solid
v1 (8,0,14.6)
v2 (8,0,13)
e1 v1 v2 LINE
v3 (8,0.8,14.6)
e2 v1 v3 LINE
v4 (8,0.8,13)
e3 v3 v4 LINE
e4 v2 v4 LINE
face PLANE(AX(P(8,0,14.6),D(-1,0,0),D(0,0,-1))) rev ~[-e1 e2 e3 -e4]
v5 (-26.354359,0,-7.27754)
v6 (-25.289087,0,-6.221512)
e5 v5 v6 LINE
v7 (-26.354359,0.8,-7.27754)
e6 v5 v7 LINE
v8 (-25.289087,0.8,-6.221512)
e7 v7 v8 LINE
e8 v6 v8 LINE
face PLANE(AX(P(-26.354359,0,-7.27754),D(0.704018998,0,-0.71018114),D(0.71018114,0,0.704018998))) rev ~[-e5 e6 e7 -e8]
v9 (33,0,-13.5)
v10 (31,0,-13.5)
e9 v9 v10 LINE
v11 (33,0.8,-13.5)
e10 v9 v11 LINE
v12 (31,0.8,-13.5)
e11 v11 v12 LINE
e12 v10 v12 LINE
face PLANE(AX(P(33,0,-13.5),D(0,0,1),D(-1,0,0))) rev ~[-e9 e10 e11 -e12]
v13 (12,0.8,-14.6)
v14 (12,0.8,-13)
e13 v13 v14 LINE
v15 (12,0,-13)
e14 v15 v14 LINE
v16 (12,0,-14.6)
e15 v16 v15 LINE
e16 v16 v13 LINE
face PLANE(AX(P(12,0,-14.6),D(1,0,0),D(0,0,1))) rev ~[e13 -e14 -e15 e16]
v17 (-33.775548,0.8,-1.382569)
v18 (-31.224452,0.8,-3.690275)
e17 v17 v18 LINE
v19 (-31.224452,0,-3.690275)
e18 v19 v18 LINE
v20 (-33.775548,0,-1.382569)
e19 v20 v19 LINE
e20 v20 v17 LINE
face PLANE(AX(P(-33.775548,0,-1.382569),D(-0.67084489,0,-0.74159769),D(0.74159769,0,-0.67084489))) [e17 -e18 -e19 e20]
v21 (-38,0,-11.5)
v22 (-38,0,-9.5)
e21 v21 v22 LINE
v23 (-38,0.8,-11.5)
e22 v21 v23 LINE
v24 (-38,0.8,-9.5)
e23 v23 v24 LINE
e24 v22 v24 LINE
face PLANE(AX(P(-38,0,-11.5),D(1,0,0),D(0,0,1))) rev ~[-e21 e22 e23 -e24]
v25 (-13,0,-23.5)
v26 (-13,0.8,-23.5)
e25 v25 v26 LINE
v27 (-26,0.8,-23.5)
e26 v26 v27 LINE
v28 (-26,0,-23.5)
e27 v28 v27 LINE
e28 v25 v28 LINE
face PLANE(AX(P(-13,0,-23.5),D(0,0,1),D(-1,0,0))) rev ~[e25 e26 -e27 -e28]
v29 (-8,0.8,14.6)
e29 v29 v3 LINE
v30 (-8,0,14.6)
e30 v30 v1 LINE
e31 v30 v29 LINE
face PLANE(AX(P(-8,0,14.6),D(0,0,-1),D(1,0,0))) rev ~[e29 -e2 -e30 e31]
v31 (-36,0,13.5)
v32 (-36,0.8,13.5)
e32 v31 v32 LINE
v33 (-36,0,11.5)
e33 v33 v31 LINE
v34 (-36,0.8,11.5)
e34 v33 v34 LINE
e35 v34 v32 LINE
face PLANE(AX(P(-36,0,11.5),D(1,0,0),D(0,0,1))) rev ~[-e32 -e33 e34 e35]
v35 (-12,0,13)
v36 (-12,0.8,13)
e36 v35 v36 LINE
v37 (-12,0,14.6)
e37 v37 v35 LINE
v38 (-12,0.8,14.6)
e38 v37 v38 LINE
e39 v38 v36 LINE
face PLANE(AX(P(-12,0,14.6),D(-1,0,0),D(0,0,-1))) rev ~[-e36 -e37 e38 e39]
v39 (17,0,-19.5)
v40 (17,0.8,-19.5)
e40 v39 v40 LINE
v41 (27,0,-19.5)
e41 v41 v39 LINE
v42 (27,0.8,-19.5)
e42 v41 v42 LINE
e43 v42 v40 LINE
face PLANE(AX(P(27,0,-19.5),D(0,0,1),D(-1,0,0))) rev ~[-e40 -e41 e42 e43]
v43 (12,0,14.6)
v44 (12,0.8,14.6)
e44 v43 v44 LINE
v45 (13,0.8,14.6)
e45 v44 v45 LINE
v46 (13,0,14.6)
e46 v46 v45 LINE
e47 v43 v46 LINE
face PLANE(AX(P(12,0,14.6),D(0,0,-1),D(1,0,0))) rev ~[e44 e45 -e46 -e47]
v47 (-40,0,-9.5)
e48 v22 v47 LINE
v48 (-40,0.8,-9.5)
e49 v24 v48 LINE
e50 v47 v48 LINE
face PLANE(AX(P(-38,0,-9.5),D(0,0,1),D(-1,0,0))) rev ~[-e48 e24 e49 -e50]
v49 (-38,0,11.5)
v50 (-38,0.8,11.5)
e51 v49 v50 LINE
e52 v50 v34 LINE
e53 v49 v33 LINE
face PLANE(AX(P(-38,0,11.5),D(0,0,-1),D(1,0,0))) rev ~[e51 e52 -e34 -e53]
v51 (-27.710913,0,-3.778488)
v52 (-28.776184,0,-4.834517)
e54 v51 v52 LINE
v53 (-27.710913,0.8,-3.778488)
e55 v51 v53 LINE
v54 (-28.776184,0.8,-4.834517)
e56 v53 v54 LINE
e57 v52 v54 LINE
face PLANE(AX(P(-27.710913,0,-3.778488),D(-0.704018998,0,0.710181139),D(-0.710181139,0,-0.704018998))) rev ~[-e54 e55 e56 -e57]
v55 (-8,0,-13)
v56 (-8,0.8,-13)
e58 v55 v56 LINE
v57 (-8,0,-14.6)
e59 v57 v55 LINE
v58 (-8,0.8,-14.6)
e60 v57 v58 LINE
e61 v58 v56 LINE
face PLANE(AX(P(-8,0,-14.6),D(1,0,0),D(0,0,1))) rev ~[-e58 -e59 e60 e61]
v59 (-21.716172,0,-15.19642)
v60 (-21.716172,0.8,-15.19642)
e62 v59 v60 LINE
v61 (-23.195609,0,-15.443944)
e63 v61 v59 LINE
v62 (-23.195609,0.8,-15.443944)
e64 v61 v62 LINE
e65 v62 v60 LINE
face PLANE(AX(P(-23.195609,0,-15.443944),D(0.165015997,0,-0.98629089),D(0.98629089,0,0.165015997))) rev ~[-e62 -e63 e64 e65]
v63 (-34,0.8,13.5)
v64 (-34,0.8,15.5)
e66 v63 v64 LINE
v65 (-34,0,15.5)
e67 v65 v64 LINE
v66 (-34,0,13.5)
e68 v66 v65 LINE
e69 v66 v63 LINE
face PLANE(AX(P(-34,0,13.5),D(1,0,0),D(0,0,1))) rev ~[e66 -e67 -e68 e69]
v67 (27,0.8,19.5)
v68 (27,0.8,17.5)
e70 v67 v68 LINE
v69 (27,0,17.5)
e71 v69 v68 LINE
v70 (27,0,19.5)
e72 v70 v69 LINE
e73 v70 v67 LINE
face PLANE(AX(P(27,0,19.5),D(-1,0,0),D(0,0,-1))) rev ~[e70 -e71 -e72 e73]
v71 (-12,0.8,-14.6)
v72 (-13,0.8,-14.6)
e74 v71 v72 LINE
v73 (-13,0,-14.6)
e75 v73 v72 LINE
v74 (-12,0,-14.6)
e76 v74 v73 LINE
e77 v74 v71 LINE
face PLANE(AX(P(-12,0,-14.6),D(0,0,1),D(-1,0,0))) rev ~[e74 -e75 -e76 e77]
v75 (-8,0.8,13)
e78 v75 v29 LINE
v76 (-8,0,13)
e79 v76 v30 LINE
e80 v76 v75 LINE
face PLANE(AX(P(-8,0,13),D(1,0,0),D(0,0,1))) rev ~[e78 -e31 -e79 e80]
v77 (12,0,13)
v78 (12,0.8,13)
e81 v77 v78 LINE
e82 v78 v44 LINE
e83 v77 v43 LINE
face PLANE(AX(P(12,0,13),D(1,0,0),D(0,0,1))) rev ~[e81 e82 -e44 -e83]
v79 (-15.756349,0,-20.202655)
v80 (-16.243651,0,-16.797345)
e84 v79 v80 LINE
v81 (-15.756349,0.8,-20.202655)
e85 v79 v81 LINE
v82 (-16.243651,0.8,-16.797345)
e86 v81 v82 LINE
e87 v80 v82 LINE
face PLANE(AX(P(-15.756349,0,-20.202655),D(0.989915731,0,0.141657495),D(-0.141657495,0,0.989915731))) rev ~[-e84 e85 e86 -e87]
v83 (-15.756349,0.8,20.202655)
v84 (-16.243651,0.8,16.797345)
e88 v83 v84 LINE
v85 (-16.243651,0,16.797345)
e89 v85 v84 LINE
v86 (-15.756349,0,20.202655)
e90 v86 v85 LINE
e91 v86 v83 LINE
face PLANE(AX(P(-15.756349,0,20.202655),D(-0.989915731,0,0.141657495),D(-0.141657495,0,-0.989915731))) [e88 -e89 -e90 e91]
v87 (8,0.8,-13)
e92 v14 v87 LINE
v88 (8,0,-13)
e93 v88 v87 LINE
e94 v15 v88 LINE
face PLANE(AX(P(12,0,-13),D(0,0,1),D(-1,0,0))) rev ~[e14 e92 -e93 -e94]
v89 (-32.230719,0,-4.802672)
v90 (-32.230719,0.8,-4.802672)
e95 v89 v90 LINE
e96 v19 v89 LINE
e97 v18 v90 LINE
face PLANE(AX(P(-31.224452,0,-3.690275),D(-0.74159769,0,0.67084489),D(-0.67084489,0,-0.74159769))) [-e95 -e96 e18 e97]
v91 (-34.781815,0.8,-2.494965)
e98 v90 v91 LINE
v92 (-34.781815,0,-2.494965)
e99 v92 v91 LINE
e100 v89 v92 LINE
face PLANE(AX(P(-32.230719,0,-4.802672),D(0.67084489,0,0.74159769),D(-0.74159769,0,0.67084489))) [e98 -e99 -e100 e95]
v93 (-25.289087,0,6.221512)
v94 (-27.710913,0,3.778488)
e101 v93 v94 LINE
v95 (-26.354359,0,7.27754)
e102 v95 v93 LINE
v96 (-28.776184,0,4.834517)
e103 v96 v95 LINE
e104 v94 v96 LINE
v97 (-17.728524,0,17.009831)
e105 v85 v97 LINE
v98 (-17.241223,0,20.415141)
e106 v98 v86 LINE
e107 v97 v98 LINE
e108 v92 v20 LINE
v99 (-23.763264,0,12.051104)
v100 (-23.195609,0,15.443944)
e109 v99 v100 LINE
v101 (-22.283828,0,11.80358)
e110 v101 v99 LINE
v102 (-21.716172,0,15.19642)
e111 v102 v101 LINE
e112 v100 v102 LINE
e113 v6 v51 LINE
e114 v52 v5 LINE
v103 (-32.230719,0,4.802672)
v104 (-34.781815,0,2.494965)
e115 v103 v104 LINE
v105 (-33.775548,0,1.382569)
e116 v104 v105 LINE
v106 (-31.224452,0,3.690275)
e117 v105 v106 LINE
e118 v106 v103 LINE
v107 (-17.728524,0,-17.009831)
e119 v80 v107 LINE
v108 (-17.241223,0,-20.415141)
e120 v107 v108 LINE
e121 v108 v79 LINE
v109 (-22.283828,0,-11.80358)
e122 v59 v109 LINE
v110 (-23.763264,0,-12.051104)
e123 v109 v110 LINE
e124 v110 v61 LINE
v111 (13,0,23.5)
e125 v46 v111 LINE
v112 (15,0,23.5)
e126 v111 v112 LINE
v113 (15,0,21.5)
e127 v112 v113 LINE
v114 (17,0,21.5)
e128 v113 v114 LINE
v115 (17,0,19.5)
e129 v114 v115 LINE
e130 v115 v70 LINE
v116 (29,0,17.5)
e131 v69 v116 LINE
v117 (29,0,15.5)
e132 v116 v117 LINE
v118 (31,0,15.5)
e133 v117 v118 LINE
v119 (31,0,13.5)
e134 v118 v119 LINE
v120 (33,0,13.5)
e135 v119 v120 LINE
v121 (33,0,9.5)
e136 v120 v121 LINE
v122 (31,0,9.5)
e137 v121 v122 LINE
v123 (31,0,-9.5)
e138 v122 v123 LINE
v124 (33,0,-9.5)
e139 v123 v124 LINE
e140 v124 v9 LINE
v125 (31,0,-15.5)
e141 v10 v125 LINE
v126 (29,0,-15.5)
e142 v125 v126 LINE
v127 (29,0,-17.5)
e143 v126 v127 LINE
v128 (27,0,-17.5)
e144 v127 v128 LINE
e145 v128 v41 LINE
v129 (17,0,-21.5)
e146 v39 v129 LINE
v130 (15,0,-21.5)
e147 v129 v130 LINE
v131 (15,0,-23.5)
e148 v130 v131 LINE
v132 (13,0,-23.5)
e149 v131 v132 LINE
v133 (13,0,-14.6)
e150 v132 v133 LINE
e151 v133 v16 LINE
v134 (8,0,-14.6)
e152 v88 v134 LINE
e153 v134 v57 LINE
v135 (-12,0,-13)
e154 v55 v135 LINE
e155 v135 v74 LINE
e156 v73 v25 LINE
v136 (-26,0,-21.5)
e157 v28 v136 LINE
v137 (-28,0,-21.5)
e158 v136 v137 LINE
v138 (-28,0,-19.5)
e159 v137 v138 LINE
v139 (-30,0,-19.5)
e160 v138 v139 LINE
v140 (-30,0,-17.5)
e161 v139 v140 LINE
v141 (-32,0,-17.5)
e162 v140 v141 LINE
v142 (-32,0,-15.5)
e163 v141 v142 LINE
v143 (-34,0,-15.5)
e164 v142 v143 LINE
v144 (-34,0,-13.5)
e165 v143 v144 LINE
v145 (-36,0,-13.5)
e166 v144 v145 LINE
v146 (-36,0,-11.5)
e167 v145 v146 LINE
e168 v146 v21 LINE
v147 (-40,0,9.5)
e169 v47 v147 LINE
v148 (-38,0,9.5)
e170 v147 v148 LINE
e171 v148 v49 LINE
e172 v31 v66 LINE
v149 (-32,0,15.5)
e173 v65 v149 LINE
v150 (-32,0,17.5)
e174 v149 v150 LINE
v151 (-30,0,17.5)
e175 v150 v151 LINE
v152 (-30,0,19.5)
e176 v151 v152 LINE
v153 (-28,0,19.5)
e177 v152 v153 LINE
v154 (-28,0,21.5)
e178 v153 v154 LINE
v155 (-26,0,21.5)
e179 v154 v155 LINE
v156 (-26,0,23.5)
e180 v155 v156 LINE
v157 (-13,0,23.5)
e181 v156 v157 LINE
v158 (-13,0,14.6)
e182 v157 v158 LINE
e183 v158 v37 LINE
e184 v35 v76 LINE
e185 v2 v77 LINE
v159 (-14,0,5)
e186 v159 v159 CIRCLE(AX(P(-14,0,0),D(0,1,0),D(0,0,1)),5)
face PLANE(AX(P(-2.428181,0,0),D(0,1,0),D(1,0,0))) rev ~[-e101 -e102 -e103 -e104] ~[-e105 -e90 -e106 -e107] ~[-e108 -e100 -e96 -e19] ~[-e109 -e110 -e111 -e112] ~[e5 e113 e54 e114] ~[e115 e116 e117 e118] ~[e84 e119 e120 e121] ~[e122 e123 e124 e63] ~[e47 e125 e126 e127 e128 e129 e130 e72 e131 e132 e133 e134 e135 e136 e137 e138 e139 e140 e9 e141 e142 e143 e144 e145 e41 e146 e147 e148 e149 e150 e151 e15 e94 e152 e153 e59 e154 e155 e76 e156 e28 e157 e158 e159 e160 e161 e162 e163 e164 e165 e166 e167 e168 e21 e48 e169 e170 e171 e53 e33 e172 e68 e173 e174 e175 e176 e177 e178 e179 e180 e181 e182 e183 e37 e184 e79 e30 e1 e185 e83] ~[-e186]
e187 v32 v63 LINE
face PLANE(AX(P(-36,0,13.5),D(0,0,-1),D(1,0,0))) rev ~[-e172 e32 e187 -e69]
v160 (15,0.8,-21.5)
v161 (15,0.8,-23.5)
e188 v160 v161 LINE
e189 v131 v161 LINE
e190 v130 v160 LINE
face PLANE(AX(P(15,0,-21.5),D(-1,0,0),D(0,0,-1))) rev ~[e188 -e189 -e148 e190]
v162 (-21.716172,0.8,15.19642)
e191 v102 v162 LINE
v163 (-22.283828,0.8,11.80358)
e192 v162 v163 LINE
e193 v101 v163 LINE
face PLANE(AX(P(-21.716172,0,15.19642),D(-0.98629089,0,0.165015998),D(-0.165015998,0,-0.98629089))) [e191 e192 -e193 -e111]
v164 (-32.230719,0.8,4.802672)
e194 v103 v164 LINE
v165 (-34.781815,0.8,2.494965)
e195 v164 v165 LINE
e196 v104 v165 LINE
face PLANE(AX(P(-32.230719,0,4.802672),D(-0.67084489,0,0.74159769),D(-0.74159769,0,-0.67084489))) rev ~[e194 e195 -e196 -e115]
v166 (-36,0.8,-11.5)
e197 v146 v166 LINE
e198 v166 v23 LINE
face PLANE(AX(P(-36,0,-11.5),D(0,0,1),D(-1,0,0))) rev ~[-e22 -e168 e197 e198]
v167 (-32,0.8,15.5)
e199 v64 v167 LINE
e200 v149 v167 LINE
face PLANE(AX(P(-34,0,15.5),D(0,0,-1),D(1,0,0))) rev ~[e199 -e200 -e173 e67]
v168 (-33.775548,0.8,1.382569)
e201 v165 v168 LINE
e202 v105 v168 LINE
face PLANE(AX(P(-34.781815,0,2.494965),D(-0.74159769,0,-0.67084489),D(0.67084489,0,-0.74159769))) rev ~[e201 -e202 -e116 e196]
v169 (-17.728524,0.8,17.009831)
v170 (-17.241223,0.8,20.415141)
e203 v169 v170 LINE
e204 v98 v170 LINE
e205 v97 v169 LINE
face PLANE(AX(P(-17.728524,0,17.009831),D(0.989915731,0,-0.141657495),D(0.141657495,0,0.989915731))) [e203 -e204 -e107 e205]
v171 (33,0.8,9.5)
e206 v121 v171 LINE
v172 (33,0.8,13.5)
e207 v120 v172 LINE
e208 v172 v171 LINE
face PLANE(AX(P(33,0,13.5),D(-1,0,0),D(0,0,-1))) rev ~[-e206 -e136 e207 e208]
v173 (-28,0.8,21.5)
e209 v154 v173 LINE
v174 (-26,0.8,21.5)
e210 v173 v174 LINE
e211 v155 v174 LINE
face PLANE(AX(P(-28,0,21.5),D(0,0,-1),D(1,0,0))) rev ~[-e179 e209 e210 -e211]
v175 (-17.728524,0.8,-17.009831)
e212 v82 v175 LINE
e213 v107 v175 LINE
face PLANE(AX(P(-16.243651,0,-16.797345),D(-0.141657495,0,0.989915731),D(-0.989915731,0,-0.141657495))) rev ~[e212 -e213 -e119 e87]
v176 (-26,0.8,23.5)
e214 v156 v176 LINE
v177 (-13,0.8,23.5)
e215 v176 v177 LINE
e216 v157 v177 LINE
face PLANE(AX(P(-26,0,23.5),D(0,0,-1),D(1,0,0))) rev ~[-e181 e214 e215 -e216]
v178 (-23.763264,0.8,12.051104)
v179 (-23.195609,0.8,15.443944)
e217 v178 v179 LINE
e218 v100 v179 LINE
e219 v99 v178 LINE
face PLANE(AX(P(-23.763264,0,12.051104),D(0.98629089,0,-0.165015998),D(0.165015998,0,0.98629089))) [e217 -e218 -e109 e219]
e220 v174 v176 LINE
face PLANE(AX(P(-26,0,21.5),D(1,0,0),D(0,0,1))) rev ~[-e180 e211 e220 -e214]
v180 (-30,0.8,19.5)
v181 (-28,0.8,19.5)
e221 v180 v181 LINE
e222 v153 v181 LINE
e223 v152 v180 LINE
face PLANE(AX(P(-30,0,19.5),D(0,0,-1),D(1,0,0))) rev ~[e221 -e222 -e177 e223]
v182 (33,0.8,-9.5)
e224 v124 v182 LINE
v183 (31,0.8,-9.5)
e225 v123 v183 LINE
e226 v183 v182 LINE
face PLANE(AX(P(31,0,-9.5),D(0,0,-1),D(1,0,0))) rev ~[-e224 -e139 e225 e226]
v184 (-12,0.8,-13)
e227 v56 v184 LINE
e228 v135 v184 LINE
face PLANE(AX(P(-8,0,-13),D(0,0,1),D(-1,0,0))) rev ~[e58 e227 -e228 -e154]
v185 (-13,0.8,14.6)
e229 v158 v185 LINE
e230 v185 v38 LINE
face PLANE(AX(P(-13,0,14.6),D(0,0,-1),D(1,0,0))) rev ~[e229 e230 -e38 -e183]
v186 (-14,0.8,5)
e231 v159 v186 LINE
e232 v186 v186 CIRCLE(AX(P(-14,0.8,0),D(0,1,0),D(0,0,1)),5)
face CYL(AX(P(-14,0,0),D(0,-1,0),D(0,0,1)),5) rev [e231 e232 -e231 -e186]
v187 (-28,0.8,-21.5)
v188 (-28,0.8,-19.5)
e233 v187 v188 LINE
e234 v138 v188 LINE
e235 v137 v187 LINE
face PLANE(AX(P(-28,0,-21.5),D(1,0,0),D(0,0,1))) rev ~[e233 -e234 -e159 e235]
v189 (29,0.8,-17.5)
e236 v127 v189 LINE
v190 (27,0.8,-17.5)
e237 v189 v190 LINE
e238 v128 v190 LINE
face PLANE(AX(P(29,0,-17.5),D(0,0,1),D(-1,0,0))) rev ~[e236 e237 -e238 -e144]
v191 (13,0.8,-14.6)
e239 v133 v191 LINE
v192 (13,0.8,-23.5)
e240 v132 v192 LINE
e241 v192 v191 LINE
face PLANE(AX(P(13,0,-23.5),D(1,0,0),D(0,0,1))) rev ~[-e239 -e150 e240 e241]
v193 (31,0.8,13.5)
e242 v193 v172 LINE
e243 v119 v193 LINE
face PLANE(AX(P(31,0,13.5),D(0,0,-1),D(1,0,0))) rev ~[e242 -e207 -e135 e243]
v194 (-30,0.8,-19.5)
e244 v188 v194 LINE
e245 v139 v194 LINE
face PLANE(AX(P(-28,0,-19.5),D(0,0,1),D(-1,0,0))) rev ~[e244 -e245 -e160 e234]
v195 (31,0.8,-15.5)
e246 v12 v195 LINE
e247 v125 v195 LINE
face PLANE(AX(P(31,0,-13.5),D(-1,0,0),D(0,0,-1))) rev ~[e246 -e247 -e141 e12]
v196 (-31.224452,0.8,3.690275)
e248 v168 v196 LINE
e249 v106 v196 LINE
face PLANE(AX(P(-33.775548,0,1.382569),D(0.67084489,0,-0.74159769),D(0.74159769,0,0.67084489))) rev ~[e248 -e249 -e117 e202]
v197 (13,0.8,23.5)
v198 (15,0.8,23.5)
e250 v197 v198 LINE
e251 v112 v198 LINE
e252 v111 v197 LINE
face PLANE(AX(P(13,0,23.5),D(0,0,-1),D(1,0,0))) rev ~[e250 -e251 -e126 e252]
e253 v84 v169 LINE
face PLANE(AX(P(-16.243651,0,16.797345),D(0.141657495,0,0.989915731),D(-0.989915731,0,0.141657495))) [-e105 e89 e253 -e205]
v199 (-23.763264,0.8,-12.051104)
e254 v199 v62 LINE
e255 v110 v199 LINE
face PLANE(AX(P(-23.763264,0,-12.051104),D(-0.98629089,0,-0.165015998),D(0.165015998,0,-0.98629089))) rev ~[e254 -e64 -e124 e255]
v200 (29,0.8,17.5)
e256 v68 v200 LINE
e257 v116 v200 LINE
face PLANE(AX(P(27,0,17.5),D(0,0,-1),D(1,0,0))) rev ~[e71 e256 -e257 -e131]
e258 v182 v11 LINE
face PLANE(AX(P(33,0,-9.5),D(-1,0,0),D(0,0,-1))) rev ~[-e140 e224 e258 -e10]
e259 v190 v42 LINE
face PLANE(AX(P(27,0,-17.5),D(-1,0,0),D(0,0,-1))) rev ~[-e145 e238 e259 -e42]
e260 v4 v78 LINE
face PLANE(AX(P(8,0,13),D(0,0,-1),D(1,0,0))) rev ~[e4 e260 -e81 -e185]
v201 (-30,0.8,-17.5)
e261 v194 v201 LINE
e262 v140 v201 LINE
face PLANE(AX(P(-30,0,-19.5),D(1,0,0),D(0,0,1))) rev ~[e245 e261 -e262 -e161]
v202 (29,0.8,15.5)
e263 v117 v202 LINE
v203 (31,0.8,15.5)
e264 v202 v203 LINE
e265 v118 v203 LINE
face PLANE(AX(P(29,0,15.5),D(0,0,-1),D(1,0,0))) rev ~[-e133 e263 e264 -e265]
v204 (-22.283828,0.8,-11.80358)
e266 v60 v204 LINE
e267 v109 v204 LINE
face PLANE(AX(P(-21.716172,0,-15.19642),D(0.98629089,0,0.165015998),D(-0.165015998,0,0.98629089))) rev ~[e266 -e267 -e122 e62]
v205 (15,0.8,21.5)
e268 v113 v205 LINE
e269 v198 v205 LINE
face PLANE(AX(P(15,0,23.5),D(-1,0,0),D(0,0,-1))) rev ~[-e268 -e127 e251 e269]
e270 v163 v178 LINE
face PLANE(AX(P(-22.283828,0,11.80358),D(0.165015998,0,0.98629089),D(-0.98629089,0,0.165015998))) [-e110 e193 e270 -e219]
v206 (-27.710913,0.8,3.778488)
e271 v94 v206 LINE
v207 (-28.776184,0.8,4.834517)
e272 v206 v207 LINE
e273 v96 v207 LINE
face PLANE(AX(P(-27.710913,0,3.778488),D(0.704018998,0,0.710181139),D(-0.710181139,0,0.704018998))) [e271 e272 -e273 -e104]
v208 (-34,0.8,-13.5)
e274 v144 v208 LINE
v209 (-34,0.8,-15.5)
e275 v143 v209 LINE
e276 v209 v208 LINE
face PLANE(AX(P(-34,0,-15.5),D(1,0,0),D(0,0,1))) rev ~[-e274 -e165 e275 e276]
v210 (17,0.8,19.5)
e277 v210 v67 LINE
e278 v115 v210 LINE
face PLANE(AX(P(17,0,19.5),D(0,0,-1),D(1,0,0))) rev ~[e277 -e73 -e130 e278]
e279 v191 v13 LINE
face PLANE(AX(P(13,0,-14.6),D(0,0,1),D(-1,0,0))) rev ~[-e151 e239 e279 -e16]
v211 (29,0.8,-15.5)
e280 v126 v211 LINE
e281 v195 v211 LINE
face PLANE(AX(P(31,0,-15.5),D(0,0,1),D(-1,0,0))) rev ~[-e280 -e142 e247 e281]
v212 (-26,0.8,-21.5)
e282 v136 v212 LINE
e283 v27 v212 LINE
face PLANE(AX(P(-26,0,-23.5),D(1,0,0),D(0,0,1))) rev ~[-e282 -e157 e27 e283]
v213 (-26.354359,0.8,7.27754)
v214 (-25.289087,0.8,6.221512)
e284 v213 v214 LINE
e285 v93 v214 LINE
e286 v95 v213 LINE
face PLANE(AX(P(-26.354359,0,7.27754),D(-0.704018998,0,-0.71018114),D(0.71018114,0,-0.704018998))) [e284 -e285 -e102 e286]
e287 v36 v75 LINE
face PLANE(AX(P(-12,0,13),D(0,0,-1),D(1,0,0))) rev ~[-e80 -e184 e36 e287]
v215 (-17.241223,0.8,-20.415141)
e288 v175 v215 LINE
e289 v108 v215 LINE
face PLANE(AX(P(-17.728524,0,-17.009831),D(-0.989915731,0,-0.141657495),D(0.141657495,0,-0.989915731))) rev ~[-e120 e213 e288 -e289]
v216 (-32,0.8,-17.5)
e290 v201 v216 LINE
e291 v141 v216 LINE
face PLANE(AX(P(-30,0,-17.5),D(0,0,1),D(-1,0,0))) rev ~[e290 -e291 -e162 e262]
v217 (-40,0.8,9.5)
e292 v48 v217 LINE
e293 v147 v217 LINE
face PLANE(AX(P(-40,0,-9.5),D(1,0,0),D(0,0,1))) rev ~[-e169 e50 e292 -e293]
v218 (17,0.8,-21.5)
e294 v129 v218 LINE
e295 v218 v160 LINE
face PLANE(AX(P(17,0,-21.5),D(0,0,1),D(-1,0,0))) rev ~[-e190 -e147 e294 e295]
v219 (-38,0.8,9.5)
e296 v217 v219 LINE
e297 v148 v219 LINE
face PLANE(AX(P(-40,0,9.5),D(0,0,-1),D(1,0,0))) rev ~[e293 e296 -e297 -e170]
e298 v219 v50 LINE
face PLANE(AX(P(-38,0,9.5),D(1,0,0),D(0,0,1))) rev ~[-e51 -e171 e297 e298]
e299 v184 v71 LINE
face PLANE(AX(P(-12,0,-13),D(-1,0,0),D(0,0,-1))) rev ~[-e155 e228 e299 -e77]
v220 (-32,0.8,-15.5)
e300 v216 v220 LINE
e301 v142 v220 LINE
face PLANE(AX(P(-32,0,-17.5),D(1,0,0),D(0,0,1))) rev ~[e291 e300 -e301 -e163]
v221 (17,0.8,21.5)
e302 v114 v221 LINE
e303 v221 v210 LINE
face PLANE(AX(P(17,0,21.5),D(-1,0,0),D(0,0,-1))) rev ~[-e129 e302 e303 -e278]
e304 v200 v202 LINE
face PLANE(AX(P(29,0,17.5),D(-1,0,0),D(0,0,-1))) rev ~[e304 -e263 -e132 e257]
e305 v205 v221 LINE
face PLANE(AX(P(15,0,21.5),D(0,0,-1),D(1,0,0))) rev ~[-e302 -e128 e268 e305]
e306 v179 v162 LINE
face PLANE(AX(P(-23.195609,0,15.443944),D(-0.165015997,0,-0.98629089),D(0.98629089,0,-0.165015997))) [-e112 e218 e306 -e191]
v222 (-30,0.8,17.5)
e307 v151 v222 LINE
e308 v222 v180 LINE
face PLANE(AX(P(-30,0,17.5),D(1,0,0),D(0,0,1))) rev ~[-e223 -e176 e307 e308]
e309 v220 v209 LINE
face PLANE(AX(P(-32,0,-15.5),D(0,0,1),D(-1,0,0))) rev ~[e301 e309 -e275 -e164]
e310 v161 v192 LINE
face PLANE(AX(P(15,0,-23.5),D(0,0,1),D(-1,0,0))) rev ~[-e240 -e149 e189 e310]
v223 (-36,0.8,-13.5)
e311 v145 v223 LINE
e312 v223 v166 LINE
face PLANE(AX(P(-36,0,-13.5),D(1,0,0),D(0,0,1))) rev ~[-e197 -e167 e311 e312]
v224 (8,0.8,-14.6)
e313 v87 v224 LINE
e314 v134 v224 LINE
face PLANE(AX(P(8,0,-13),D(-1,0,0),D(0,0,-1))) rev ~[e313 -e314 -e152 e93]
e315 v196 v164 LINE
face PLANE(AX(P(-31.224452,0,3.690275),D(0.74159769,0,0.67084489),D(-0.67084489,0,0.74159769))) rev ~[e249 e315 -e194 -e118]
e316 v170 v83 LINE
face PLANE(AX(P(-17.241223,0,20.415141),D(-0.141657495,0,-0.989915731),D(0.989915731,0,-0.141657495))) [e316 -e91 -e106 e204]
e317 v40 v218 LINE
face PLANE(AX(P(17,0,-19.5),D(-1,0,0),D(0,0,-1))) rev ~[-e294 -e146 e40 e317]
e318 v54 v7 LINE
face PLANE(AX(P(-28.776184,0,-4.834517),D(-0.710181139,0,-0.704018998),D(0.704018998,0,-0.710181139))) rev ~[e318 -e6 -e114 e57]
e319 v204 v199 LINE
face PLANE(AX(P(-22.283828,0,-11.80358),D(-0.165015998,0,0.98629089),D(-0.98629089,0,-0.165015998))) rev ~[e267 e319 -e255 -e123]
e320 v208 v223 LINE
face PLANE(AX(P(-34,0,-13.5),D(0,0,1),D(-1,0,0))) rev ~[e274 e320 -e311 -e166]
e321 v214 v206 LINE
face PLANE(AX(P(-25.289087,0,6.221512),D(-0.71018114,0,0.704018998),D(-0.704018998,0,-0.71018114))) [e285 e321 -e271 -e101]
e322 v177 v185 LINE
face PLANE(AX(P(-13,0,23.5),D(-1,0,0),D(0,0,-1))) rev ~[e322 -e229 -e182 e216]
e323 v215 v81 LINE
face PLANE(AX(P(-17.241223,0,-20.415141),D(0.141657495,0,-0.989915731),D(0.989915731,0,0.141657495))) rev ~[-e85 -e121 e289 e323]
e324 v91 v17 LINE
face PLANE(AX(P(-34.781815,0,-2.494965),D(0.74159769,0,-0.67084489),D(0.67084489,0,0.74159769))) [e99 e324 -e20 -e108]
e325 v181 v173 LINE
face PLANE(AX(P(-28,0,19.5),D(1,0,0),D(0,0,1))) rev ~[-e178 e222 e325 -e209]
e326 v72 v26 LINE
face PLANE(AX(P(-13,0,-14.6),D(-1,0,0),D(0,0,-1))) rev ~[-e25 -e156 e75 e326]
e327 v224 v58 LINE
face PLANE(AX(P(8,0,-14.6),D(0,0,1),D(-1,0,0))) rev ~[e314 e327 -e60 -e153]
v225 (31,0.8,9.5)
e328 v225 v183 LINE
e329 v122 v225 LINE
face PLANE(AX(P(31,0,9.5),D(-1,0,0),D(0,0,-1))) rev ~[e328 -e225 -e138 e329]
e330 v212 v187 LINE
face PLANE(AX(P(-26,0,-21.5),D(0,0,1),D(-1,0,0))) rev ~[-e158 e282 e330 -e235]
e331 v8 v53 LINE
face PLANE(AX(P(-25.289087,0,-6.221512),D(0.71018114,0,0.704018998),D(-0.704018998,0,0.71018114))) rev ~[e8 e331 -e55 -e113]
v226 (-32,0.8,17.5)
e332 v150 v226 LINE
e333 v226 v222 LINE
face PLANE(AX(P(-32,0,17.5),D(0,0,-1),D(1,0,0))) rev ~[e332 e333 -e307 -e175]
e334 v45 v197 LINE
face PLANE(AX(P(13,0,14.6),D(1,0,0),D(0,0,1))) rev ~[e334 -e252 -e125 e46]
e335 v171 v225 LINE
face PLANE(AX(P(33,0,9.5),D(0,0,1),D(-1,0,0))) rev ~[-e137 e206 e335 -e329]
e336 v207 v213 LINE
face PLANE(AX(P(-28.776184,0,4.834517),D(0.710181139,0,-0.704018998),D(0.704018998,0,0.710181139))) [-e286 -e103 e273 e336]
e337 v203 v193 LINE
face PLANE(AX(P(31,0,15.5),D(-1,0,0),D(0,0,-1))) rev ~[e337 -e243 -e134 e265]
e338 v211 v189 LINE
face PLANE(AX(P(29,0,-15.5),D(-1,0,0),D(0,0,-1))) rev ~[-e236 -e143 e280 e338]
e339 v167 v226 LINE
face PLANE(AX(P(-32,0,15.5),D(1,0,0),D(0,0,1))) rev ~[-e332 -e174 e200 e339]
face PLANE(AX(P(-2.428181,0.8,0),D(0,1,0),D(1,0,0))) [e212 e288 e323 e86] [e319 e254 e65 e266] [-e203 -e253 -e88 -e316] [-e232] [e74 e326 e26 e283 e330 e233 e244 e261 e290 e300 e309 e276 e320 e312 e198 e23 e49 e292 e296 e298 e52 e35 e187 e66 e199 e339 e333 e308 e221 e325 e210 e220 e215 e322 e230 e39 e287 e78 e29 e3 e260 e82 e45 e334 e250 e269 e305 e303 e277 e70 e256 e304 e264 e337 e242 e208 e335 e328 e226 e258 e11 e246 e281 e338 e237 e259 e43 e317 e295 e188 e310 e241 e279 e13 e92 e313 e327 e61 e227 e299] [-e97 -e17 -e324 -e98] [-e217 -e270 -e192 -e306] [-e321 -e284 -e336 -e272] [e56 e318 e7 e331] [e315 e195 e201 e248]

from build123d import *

# Parameters (mm, degrees)
SKETCH_5_R      = 5
EXTRUDE_1_DEPTH = 0.8


with BuildPart() as part:
    # 스케치5 → 보스-돌출1 (new body)
    with BuildSketch(Plane(origin=(0, 0, 0), x_dir=(1, 0, 0), z_dir=(0, 1, 0))):
        Polygon((-13, -23.5), (-13, -14.6), (-12, -14.6), (-12, -13), (-8, -13), (-8, -14.6), (8, -14.6), (8, -13), (12, -13), (12, -14.6), (13, -14.6), (13, -23.5), (15, -23.5), (15, -21.5), (17, -21.5), (17, -19.5), (27, -19.5), (27, -17.5), (29, -17.5), (29, -15.5), (31, -15.5), (31, -13.5), (33, -13.5), (33, -9.5), (31, -9.5), (31, 9.5), (33, 9.5), (33, 13.5), (31, 13.5), (31, 15.5), (29, 15.5), (29, 17.5), (27, 17.5), (27, 19.5), (17, 19.5), (17, 21.5), (15, 21.5), (15, 23.5), (13, 23.5), (13, 14.6), (12, 14.6), (12, 13), (8, 13), (8, 14.6), (-8, 14.6), (-8, 13), (-12, 13), (-12, 14.6), (-13, 14.6), (-13, 23.5), (-26, 23.5), (-26, 21.5), (-28, 21.5), (-28, 19.5), (-30, 19.5), (-30, 17.5), (-32, 17.5), (-32, 15.5), (-34, 15.5), (-34, 13.5), (-36, 13.5), (-36, 11.5), (-38, 11.5), (-38, 9.5), (-40, 9.5), (-40, -9.5), (-38, -9.5), (-38, -11.5), (-36, -11.5), (-36, -13.5), (-34, -13.5), (-34, -15.5), (-32, -15.5), (-32, -17.5), (-30, -17.5), (-30, -19.5), (-28, -19.5), (-28, -21.5), (-26, -21.5), (-26, -23.5), align=None)
        with Locations((-14, 0)):
            Circle(SKETCH_5_R, mode=Mode.SUBTRACT)
        Polygon((-17.728524487, -17.009831185), (-17.241222705, -20.415141299), (-15.756349109, -20.202655057), (-16.243650891, -16.797344943), align=None, mode=Mode.SUBTRACT)
        Polygon((-23.763263852, -12.051103665), (-23.19560882, -15.443944328), (-21.716172484, -15.196420332), (-22.283827516, -11.803579668), align=None, mode=Mode.SUBTRACT)
        Polygon((-28.776184385, -4.834516937), (-26.354359033, -7.277540056), (-25.289087324, -6.22151156), (-27.710912676, -3.77848844), align=None, mode=Mode.SUBTRACT)
        Polygon((-32.230719309, -4.802671603), (-34.781815362, -2.494965181), (-33.775548026, -1.382568646), (-31.224451974, -3.690275068), align=None, mode=Mode.SUBTRACT)
        Polygon((-17.241222705, 20.415141299), (-15.756349109, 20.202655057), (-16.243650891, 16.797344943), (-17.728524487, 17.009831185), align=None, mode=Mode.SUBTRACT)
        Polygon((-23.19560882, 15.443944328), (-21.716172484, 15.196420332), (-22.283827516, 11.803579668), (-23.763263852, 12.051103665), align=None, mode=Mode.SUBTRACT)
        Polygon((-26.354359033, 7.277540056), (-25.289087324, 6.22151156), (-27.710912676, 3.77848844), (-28.776184385, 4.834516937), align=None, mode=Mode.SUBTRACT)
        Polygon((-34.781815362, 2.494965181), (-33.775548026, 1.382568646), (-31.224451974, 3.690275068), (-32.230719309, 4.802671603), align=None, mode=Mode.SUBTRACT)
    extrude(amount=EXTRUDE_1_DEPTH)


solid = part.part
